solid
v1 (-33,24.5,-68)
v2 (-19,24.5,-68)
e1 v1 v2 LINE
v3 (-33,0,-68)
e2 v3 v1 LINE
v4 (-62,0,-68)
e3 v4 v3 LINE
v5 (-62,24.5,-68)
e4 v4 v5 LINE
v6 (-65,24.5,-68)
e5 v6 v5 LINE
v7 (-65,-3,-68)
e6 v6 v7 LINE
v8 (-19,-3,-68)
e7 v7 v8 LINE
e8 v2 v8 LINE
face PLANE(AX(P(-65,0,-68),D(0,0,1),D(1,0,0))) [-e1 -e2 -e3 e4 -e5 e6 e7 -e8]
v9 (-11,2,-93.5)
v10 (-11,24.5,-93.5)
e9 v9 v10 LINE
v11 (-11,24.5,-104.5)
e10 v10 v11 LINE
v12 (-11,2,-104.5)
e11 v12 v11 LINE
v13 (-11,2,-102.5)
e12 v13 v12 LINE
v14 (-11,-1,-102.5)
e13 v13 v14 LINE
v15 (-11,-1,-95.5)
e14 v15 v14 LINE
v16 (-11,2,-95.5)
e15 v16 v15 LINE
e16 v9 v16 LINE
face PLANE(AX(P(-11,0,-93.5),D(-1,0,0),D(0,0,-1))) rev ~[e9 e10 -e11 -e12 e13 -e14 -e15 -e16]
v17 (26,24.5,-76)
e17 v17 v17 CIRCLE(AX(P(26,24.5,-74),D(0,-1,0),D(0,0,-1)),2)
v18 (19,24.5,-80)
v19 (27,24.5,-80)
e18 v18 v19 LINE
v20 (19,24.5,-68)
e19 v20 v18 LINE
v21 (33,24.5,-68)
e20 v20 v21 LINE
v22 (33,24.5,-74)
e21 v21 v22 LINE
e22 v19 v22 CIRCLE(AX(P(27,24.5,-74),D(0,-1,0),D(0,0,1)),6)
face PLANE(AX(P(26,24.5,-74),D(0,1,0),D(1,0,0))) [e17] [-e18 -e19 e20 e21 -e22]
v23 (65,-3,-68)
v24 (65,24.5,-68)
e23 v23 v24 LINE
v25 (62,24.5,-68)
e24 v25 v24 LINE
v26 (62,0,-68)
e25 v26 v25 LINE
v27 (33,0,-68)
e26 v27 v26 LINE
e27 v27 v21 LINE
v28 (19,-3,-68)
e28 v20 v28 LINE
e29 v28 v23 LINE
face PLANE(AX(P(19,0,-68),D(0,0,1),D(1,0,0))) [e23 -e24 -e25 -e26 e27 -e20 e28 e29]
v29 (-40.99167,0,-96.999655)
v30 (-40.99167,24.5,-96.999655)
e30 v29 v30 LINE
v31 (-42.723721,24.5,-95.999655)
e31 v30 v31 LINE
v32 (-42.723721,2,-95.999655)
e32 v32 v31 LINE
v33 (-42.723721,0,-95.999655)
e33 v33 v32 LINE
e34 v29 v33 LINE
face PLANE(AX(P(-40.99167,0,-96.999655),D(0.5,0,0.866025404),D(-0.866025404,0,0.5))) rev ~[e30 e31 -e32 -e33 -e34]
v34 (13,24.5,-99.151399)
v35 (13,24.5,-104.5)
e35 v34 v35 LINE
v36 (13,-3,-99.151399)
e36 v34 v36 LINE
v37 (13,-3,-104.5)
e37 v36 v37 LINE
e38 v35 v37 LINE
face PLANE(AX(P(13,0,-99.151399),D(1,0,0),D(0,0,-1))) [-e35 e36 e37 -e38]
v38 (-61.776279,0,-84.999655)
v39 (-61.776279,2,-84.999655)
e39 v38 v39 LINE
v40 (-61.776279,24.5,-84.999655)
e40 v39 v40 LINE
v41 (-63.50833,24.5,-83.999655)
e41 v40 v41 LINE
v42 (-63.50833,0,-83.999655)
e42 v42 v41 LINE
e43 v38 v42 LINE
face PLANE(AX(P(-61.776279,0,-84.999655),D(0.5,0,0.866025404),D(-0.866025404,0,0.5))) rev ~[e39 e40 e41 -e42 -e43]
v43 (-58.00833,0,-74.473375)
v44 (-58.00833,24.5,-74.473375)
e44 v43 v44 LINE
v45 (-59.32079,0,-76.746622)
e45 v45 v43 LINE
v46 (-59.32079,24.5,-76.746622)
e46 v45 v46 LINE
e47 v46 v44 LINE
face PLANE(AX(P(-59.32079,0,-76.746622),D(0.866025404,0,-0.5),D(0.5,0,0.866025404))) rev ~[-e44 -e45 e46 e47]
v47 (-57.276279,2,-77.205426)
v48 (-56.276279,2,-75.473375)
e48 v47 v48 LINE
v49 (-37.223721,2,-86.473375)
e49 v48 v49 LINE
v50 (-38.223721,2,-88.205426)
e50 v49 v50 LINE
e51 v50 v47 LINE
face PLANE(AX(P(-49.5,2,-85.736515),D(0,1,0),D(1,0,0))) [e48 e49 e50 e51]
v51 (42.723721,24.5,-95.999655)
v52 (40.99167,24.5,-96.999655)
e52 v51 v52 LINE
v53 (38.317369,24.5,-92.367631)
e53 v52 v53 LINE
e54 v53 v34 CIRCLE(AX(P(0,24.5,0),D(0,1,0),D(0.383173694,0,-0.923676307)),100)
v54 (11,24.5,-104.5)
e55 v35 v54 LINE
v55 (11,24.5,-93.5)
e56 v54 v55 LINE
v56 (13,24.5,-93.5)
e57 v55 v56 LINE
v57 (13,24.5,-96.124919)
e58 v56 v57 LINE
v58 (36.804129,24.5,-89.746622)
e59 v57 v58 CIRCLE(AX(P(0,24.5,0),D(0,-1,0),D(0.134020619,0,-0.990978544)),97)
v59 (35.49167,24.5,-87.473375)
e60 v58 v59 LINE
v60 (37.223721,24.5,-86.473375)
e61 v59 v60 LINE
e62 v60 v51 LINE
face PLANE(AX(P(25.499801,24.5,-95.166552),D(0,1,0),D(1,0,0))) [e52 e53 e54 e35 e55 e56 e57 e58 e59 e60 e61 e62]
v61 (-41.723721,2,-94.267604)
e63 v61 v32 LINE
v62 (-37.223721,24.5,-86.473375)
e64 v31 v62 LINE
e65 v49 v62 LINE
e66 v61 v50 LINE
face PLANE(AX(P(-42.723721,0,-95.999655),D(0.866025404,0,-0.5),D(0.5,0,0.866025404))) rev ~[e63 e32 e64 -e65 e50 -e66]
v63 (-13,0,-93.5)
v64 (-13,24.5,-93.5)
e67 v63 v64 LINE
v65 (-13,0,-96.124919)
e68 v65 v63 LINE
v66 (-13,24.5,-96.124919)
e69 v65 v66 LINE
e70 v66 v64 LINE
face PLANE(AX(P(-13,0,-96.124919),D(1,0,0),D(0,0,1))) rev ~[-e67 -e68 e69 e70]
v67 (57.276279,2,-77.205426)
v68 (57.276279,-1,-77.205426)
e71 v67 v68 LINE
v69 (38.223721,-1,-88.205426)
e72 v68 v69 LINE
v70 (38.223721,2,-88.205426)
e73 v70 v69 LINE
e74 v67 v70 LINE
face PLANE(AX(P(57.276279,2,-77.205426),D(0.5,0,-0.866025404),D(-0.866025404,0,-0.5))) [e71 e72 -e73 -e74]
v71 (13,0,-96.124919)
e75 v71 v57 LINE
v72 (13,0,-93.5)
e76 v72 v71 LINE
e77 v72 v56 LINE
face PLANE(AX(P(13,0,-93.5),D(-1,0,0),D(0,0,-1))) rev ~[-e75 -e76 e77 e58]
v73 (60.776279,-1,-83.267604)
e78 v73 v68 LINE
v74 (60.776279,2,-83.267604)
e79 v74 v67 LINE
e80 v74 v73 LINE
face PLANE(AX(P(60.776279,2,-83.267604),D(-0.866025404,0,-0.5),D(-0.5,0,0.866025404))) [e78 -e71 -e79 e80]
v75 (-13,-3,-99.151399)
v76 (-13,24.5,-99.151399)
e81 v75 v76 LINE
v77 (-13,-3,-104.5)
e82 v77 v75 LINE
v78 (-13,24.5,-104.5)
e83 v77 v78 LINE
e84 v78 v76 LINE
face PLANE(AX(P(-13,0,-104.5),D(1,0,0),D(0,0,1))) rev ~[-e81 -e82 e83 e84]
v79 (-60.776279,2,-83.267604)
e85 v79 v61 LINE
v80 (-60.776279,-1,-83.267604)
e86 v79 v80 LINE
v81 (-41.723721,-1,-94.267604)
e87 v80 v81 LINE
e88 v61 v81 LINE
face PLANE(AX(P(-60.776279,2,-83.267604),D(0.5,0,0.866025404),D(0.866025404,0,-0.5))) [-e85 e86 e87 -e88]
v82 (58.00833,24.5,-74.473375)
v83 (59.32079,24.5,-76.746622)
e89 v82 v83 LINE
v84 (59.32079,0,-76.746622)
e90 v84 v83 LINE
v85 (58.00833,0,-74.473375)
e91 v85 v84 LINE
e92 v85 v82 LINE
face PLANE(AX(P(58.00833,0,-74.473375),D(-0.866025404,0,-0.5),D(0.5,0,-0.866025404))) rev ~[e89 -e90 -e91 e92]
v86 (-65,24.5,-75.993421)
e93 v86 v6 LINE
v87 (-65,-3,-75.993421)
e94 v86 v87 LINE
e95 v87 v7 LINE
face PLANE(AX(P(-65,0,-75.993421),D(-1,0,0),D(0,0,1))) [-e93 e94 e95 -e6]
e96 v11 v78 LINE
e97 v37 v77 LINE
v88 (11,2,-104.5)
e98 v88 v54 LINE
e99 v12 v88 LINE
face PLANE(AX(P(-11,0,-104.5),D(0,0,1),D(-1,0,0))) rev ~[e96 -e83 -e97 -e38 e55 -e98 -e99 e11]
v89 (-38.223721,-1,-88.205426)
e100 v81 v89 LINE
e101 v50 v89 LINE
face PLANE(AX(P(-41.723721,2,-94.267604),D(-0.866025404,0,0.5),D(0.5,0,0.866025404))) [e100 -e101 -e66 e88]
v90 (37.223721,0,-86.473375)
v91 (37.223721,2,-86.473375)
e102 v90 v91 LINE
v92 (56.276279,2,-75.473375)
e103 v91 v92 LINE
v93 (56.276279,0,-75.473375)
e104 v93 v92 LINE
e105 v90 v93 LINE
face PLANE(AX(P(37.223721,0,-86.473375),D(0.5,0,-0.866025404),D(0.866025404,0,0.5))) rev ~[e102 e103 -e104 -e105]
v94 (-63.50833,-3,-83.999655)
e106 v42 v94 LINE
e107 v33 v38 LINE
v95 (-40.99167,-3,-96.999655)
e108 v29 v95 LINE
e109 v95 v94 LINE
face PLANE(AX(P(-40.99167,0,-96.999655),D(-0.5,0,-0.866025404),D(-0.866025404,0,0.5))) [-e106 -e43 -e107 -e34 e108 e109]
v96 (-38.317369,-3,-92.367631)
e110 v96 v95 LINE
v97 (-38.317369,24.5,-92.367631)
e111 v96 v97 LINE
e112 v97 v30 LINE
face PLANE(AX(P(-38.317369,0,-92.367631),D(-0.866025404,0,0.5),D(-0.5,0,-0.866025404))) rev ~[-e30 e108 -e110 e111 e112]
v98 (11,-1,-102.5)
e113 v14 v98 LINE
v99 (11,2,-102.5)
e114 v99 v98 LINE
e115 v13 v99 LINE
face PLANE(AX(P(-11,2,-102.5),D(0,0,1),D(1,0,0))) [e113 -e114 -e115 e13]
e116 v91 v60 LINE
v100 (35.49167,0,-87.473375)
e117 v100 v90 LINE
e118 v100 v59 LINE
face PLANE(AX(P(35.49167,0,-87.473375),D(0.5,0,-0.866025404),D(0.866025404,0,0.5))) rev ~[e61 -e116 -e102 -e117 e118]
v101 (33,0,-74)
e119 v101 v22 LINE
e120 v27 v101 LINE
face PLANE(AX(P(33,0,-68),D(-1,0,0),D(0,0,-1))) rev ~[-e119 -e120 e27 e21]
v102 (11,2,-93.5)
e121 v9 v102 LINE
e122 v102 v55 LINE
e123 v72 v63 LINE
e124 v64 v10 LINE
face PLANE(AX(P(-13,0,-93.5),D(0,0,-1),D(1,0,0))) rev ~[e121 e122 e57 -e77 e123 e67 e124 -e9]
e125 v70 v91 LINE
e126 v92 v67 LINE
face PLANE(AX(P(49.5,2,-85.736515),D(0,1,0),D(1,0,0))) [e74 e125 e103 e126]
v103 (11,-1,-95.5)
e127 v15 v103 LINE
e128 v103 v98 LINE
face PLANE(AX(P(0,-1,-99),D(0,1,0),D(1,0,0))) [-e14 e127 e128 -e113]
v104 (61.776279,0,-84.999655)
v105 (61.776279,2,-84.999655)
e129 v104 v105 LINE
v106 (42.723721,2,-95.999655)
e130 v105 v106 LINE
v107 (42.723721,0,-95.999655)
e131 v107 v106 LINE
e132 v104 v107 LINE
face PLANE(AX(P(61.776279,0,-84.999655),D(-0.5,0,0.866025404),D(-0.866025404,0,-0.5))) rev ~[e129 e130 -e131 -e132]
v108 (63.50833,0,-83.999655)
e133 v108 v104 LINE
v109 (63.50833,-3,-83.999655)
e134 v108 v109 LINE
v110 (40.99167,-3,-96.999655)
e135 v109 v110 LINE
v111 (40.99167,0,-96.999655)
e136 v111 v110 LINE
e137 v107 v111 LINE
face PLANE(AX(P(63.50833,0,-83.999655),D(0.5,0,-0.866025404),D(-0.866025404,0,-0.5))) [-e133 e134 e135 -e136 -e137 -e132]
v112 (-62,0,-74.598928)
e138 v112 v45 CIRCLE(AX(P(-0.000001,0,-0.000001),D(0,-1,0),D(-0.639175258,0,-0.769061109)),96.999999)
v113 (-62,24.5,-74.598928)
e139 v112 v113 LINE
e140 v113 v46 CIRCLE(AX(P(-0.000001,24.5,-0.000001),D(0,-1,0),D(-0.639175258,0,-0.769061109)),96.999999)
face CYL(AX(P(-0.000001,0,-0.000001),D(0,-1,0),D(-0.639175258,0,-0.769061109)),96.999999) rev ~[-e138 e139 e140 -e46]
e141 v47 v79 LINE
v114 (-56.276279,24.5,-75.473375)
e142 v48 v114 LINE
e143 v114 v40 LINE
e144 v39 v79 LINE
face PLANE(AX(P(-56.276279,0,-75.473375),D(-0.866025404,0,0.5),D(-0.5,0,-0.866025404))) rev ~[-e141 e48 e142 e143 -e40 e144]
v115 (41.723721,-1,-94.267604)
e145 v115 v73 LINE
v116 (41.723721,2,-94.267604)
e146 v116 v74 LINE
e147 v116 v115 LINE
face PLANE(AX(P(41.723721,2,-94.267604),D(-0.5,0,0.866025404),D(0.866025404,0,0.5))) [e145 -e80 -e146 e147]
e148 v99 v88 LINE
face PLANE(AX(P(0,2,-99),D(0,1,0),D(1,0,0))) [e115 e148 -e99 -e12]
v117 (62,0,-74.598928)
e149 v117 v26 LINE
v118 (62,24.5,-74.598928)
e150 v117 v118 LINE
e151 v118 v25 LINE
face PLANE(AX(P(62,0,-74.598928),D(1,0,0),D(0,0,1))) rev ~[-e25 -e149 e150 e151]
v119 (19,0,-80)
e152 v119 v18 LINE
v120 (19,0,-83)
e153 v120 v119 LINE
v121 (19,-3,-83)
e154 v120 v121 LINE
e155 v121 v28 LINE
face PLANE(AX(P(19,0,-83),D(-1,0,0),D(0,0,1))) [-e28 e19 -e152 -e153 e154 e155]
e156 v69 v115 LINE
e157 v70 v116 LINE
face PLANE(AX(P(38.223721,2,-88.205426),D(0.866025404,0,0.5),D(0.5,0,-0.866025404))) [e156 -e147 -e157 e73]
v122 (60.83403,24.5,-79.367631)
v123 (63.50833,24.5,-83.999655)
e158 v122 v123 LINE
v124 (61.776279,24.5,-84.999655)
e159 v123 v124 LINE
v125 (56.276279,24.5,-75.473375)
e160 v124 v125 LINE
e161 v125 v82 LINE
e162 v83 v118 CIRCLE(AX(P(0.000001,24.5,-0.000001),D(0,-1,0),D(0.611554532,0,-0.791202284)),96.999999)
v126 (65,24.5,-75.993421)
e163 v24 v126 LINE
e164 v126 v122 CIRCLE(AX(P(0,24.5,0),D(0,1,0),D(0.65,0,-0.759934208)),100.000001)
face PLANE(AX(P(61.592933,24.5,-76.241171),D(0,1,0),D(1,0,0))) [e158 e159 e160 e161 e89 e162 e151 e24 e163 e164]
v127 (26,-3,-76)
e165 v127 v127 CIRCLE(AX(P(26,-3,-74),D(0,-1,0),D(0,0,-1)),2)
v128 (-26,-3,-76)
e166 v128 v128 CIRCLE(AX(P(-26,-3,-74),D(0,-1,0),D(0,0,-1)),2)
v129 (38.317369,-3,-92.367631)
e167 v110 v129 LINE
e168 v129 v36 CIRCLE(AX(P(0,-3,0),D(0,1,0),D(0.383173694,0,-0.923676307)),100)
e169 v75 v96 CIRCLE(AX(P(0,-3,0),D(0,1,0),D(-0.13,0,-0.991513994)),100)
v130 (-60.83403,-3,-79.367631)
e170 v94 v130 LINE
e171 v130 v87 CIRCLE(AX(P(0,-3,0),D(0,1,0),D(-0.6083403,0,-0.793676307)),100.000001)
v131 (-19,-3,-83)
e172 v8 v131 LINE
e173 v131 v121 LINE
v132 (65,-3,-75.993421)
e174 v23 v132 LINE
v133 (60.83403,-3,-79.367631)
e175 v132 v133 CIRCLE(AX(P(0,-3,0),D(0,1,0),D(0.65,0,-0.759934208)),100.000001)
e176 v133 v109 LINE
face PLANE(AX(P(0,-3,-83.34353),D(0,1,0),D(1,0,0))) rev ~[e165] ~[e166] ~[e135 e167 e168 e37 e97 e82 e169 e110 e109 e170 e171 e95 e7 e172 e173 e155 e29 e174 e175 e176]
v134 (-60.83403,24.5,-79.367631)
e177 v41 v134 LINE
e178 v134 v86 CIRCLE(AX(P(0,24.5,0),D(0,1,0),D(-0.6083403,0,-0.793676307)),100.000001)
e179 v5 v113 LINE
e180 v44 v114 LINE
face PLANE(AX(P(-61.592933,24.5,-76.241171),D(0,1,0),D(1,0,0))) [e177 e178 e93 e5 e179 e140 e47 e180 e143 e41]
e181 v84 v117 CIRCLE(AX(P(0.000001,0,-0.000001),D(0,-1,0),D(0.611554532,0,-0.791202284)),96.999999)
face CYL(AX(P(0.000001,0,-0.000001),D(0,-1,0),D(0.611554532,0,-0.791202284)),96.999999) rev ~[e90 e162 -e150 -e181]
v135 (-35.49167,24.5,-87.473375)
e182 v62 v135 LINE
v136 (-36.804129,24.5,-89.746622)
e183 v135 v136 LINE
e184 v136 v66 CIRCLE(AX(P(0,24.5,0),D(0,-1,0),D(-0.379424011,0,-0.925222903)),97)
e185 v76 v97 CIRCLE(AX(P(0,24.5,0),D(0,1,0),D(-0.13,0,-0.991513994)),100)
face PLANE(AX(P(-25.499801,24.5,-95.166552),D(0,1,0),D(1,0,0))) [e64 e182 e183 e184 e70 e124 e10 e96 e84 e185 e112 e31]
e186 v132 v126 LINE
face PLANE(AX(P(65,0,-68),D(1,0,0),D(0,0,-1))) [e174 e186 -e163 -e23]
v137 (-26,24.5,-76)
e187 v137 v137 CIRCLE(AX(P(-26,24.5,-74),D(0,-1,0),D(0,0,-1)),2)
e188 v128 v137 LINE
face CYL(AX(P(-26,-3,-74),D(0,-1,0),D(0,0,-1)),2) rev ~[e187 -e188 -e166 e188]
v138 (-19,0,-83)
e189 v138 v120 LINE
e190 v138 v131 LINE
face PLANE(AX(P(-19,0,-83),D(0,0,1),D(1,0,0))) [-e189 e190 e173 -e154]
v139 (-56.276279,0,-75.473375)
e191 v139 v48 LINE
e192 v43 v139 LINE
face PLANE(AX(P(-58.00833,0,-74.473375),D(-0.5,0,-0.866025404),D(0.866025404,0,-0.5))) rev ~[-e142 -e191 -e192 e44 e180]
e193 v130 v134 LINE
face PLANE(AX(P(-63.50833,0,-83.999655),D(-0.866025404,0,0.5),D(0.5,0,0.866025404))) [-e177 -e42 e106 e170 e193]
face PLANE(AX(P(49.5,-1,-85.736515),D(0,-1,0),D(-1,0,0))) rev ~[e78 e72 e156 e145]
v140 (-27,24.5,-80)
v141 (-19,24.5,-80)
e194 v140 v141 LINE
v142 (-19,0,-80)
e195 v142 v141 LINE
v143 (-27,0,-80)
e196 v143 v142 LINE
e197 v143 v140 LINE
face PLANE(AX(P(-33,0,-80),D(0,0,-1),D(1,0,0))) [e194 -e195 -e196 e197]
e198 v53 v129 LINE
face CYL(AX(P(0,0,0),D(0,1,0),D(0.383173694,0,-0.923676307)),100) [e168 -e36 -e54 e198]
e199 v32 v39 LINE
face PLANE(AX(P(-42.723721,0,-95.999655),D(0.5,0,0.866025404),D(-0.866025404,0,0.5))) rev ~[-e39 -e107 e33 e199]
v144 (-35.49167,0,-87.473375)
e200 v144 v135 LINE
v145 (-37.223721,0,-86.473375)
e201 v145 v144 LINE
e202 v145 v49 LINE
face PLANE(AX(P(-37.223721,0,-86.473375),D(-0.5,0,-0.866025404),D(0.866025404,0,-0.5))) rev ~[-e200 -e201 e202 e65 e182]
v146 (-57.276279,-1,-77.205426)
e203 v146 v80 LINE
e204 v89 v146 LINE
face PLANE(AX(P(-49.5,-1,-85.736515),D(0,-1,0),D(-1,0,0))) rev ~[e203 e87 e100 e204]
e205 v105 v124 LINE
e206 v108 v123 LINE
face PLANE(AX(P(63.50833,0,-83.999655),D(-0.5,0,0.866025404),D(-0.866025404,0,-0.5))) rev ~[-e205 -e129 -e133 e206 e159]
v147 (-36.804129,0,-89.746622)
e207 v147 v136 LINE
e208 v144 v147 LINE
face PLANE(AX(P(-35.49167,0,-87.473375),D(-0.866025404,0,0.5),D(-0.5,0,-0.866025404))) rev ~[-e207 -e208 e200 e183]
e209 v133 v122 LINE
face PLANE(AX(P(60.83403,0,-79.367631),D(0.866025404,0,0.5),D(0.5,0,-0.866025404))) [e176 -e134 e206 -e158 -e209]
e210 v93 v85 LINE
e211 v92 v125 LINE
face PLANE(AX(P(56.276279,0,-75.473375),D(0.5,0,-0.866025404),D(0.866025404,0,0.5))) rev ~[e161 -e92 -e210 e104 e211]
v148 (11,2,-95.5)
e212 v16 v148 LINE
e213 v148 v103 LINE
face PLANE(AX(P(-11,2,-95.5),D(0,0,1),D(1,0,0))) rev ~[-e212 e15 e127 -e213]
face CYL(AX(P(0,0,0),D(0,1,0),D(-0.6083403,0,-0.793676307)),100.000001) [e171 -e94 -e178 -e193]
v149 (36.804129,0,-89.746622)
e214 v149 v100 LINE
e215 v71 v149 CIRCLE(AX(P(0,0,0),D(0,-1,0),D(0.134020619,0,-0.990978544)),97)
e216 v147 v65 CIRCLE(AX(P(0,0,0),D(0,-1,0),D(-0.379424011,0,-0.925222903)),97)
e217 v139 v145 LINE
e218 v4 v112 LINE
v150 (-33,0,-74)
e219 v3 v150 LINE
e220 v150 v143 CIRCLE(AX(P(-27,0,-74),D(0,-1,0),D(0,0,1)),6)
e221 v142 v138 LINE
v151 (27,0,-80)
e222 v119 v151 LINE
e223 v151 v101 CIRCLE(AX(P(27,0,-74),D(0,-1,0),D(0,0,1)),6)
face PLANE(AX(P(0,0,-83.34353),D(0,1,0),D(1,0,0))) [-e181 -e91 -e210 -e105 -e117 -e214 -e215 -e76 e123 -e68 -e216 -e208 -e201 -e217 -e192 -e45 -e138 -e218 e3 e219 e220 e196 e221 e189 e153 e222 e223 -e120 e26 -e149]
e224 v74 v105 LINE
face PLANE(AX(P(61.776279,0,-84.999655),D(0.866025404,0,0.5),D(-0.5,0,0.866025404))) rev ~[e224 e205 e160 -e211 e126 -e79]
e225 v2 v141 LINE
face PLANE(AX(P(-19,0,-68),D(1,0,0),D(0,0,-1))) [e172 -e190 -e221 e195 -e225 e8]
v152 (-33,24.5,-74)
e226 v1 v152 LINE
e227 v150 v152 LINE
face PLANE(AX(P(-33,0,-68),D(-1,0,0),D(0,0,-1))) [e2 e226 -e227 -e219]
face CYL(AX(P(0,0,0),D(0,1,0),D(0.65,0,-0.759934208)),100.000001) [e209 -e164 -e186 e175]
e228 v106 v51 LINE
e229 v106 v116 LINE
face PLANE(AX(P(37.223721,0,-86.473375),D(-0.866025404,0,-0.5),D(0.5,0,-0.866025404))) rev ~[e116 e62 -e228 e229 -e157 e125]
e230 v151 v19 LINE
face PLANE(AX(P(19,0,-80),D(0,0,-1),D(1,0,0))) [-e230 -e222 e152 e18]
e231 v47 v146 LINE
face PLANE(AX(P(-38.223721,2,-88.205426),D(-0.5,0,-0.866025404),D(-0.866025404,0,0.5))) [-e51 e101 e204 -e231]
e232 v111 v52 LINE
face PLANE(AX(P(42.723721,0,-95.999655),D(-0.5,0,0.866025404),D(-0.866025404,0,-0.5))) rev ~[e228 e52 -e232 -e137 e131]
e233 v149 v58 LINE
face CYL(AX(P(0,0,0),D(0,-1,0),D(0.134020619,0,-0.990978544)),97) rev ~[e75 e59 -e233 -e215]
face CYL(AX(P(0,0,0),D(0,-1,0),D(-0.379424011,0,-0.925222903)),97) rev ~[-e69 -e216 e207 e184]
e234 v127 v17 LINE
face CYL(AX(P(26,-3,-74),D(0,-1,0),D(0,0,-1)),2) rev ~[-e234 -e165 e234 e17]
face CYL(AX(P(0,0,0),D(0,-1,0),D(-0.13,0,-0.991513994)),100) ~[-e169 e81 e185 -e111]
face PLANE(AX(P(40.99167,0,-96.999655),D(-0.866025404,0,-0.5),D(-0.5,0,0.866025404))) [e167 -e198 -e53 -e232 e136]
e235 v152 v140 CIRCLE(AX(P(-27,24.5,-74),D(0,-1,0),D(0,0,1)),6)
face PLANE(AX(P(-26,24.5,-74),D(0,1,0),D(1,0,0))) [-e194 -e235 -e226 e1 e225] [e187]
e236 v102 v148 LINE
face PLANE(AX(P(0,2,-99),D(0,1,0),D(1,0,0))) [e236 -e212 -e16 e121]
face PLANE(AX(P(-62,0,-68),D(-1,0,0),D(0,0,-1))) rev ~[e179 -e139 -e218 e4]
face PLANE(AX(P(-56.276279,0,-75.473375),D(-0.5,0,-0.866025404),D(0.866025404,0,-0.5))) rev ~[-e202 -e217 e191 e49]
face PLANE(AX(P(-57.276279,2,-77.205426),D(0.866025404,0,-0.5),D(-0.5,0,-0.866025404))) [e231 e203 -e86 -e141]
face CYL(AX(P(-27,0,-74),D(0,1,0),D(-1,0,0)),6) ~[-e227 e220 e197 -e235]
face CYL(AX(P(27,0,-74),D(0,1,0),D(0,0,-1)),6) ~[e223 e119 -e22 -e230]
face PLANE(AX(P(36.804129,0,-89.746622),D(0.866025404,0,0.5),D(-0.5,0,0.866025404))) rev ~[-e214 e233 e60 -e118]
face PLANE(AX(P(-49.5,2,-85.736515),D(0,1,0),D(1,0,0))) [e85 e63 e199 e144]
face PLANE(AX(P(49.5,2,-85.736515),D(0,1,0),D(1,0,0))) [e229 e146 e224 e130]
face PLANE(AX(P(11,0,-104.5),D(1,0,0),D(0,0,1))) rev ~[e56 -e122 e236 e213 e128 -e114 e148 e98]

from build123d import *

# Parameters (mm, degrees)
EXTRUDE_1842_DEPTH     = 3
SKETCH_5_W             = 14
SKETCH_5_H             = 12
EXTRUDE_4250_DEPTH     = 24.5
SKETCH_9_W             = 22
SKETCH_9_H             = 11
EXTRUDE_5165_DEPTH     = 2
SKETCH_11_W            = 22
SKETCH_11_H            = 7
CUT_EXTRUDE_6076_DEPTH = 3
SKETCH_6_R             = 2
CUT_EXTRUDE_6516_DEPTH = 127.101149876
FILLET_2_R             = 6


with BuildPart() as part:
    # 草图1 → Extrude 1842 (new body)
    with BuildSketch(Plane(origin=(0, 0, 0), x_dir=(1, 0, 0), z_dir=(0, 1, 0))):
        with BuildLine():
            Line((-65, 75.993420768), (-65, 68))
            Line((-65, 68), (-19, 68))
            Line((-19, 68), (-19, 83))
            Line((-19, 83), (19, 83))
            Line((19, 83), (19, 68))
            Line((19, 68), (65, 68))
            Line((65, 68), (65, 75.993420768))
            ThreePointArc((65, 75.993420768), (62.939630568, 77.708448086), (60.834029942, 79.367630688))
            Line((60.834029942, 79.367630688), (63.508330249, 83.999654695))
            Line((63.508330249, 83.999654695), (40.991669751, 96.999654695))
            Line((40.991669751, 96.999654695), (38.317369443, 92.367630688))
            ThreePointArc((38.317369443, 92.367630688), (25.88190451, 96.592582629), (13, 99.151399385))
            Line((13, 99.151399385), (13, 104.5))
            Line((13, 104.5), (-13, 104.5))
            Line((-13, 104.5), (-13, 99.151399385))
            ThreePointArc((-13, 99.151399385), (-25.88190451, 96.592582629), (-38.317369443, 92.367630688))
            Line((-38.317369443, 92.367630688), (-40.991669751, 96.999654695))
            Line((-40.991669751, 96.999654695), (-63.508330249, 83.999654695))
            Line((-63.508330249, 83.999654695), (-60.834029942, 79.367630688))
            ThreePointArc((-60.834029942, 79.367630688), (-62.939630568, 77.708448086), (-65, 75.993420768))
        make_face()
    extrude(amount=-EXTRUDE_1842_DEPTH)

    # 草图5 → Extrude 4250 (add)
    with BuildSketch(Plane(origin=(0, 0, 0), x_dir=(1, 0, 0), z_dir=(0, 1, 0))):
        with BuildLine():
            Line((-11, 104.5), (-13, 104.5))
            Line((-13, 104.5), (-13, 99.151399385))
            ThreePointArc((-13, 99.151399385), (-25.88190451, 96.592582629), (-38.317369443, 92.367630688))
            Line((-38.317369443, 92.367630688), (-40.991669751, 96.999654695))
            Line((-40.991669751, 96.999654695), (-42.723720558, 95.999654695))
            Line((-42.723720558, 95.999654695), (-37.223720558, 86.473375254))
            Line((-37.223720558, 86.473375254), (-35.491669751, 87.473375254))
            Line((-35.491669751, 87.473375254), (-36.804129114, 89.746621553))
            ThreePointArc((-36.804129114, 89.746621553), (-25.105447375, 93.69480515), (-13, 96.124918726))
            Line((-13, 96.124918726), (-13, 93.5))
            Line((-13, 93.5), (-11, 93.5))
            Line((-11, 93.5), (-11, 104.5))
        make_face()
        with BuildLine():
            Line((13, 104.5), (11, 104.5))
            Line((11, 104.5), (11, 93.5))
            Line((11, 93.5), (13, 93.5))
            Line((13, 93.5), (13, 96.124918726))
            ThreePointArc((13, 96.124918726), (25.105447375, 93.69480515), (36.804129114, 89.746621553))
            Line((36.804129114, 89.746621553), (35.491669751, 87.473375254))
            Line((35.491669751, 87.473375254), (37.223720558, 86.473375254))
            Line((37.223720558, 86.473375254), (42.723720558, 95.999654695))
            Line((42.723720558, 95.999654695), (40.991669751, 96.999654695))
            Line((40.991669751, 96.999654695), (38.317369443, 92.367630688))
            ThreePointArc((38.317369443, 92.367630688), (25.88190451, 96.592582629), (13, 99.151399385))
            Line((13, 99.151399385), (13, 104.5))
        make_face()
        with BuildLine():
            Line((-61.776279442, 84.999654695), (-63.508330249, 83.999654695))
            Line((-63.508330249, 83.999654695), (-60.834029942, 79.367630688))
            ThreePointArc((-60.834029942, 79.367630688), (-62.939630568, 77.708448086), (-65, 75.993420768))
            Line((-65, 75.993420768), (-65, 68))
            Line((-65, 68), (-62, 68))
            Line((-62, 68), (-62, 74.598927606))
            ThreePointArc((-62, 74.598927606), (-60.669899006, 75.684630901), (-59.320789612, 76.746621553))
            Line((-59.320789612, 76.746621553), (-58.008330249, 74.473375254))
            Line((-58.008330249, 74.473375254), (-56.276279442, 75.473375254))
            Line((-56.276279442, 75.473375254), (-61.776279442, 84.999654695))
        make_face()
        with BuildLine():
            Line((58.008330249, 74.473375254), (59.320789612, 76.746621553))
            ThreePointArc((59.320789612, 76.746621553), (60.669899006, 75.684630901), (62, 74.598927606))
            Line((62, 74.598927606), (62, 68))
            Line((62, 68), (65, 68))
            Line((65, 68), (65, 75.993420768))
            ThreePointArc((65, 75.993420768), (62.939630568, 77.708448086), (60.834029942, 79.367630688))
            Line((60.834029942, 79.367630688), (63.508330249, 83.999654695))
            Line((63.508330249, 83.999654695), (61.776279442, 84.999654695))
            Line((61.776279442, 84.999654695), (56.276279442, 75.473375254))
            Line((56.276279442, 75.473375254), (58.008330249, 74.473375254))
        make_face()
        with Locations((-26, 74)):
            Rectangle(SKETCH_5_W, SKETCH_5_H)
        with Locations((26, 74)):
            Rectangle(SKETCH_5_W, SKETCH_5_H)
    extrude(amount=EXTRUDE_4250_DEPTH)

    # 草图9 → Extrude 5165 (add)
    with BuildSketch(Plane(origin=(0, 0, 0), x_dir=(1, 0, 0), z_dir=(0, 1, 0))):
        Polygon((-56.276279442, 75.473375254), (-37.223720558, 86.473375254), (-42.723720558, 95.999654695), (-61.776279442, 84.999654695), align=None)
        with Locations((0, 99)):
            Rectangle(SKETCH_9_W, SKETCH_9_H)
        Polygon((37.223720558, 86.473375254), (56.276279442, 75.473375254), (61.776279442, 84.999654695), (42.723720558, 95.999654695), align=None)
    extrude(amount=EXTRUDE_5165_DEPTH)

    # 草图11 → Cut-Extrude 6076 (cut)
    with BuildSketch(Plane(origin=(0, 2, 0), x_dir=(1, 0, 0), z_dir=(0, 1, 0))):
        Polygon((-60.776279442, 83.267603888), (-41.723720558, 94.267603888), (-38.223720558, 88.205426061), (-57.276279442, 77.205426061), align=None)
        with Locations((0, 99)):
            Rectangle(SKETCH_11_W, SKETCH_11_H)
        Polygon((41.723720558, 94.267603888), (60.776279442, 83.267603888), (57.276279442, 77.205426061), (38.223720558, 88.205426061), align=None)
    extrude(amount=-CUT_EXTRUDE_6076_DEPTH, mode=Mode.SUBTRACT)

    # 草图6 → Cut-Extrude 6516 (cut, through all)
    with BuildSketch(Plane.XZ.offset(3)):
        with Locations(Location((-26, -74, 0), (0, 0, 270))):
            Circle(SKETCH_6_R)
        with Locations(Location((26, -74, 0), (0, 0, 270))):
            Circle(SKETCH_6_R)
    extrude(amount=-CUT_EXTRUDE_6516_DEPTH, mode=Mode.SUBTRACT)

    # 圆角2
    fillet_2_edges = [part.edges().sort_by_distance(p)[0] for p in [
        (-33, 12.25, -80),
        (33, 12.25, -80),
    ]]
    fillet(fillet_2_edges, radius=FILLET_2_R)


solid = part.part
